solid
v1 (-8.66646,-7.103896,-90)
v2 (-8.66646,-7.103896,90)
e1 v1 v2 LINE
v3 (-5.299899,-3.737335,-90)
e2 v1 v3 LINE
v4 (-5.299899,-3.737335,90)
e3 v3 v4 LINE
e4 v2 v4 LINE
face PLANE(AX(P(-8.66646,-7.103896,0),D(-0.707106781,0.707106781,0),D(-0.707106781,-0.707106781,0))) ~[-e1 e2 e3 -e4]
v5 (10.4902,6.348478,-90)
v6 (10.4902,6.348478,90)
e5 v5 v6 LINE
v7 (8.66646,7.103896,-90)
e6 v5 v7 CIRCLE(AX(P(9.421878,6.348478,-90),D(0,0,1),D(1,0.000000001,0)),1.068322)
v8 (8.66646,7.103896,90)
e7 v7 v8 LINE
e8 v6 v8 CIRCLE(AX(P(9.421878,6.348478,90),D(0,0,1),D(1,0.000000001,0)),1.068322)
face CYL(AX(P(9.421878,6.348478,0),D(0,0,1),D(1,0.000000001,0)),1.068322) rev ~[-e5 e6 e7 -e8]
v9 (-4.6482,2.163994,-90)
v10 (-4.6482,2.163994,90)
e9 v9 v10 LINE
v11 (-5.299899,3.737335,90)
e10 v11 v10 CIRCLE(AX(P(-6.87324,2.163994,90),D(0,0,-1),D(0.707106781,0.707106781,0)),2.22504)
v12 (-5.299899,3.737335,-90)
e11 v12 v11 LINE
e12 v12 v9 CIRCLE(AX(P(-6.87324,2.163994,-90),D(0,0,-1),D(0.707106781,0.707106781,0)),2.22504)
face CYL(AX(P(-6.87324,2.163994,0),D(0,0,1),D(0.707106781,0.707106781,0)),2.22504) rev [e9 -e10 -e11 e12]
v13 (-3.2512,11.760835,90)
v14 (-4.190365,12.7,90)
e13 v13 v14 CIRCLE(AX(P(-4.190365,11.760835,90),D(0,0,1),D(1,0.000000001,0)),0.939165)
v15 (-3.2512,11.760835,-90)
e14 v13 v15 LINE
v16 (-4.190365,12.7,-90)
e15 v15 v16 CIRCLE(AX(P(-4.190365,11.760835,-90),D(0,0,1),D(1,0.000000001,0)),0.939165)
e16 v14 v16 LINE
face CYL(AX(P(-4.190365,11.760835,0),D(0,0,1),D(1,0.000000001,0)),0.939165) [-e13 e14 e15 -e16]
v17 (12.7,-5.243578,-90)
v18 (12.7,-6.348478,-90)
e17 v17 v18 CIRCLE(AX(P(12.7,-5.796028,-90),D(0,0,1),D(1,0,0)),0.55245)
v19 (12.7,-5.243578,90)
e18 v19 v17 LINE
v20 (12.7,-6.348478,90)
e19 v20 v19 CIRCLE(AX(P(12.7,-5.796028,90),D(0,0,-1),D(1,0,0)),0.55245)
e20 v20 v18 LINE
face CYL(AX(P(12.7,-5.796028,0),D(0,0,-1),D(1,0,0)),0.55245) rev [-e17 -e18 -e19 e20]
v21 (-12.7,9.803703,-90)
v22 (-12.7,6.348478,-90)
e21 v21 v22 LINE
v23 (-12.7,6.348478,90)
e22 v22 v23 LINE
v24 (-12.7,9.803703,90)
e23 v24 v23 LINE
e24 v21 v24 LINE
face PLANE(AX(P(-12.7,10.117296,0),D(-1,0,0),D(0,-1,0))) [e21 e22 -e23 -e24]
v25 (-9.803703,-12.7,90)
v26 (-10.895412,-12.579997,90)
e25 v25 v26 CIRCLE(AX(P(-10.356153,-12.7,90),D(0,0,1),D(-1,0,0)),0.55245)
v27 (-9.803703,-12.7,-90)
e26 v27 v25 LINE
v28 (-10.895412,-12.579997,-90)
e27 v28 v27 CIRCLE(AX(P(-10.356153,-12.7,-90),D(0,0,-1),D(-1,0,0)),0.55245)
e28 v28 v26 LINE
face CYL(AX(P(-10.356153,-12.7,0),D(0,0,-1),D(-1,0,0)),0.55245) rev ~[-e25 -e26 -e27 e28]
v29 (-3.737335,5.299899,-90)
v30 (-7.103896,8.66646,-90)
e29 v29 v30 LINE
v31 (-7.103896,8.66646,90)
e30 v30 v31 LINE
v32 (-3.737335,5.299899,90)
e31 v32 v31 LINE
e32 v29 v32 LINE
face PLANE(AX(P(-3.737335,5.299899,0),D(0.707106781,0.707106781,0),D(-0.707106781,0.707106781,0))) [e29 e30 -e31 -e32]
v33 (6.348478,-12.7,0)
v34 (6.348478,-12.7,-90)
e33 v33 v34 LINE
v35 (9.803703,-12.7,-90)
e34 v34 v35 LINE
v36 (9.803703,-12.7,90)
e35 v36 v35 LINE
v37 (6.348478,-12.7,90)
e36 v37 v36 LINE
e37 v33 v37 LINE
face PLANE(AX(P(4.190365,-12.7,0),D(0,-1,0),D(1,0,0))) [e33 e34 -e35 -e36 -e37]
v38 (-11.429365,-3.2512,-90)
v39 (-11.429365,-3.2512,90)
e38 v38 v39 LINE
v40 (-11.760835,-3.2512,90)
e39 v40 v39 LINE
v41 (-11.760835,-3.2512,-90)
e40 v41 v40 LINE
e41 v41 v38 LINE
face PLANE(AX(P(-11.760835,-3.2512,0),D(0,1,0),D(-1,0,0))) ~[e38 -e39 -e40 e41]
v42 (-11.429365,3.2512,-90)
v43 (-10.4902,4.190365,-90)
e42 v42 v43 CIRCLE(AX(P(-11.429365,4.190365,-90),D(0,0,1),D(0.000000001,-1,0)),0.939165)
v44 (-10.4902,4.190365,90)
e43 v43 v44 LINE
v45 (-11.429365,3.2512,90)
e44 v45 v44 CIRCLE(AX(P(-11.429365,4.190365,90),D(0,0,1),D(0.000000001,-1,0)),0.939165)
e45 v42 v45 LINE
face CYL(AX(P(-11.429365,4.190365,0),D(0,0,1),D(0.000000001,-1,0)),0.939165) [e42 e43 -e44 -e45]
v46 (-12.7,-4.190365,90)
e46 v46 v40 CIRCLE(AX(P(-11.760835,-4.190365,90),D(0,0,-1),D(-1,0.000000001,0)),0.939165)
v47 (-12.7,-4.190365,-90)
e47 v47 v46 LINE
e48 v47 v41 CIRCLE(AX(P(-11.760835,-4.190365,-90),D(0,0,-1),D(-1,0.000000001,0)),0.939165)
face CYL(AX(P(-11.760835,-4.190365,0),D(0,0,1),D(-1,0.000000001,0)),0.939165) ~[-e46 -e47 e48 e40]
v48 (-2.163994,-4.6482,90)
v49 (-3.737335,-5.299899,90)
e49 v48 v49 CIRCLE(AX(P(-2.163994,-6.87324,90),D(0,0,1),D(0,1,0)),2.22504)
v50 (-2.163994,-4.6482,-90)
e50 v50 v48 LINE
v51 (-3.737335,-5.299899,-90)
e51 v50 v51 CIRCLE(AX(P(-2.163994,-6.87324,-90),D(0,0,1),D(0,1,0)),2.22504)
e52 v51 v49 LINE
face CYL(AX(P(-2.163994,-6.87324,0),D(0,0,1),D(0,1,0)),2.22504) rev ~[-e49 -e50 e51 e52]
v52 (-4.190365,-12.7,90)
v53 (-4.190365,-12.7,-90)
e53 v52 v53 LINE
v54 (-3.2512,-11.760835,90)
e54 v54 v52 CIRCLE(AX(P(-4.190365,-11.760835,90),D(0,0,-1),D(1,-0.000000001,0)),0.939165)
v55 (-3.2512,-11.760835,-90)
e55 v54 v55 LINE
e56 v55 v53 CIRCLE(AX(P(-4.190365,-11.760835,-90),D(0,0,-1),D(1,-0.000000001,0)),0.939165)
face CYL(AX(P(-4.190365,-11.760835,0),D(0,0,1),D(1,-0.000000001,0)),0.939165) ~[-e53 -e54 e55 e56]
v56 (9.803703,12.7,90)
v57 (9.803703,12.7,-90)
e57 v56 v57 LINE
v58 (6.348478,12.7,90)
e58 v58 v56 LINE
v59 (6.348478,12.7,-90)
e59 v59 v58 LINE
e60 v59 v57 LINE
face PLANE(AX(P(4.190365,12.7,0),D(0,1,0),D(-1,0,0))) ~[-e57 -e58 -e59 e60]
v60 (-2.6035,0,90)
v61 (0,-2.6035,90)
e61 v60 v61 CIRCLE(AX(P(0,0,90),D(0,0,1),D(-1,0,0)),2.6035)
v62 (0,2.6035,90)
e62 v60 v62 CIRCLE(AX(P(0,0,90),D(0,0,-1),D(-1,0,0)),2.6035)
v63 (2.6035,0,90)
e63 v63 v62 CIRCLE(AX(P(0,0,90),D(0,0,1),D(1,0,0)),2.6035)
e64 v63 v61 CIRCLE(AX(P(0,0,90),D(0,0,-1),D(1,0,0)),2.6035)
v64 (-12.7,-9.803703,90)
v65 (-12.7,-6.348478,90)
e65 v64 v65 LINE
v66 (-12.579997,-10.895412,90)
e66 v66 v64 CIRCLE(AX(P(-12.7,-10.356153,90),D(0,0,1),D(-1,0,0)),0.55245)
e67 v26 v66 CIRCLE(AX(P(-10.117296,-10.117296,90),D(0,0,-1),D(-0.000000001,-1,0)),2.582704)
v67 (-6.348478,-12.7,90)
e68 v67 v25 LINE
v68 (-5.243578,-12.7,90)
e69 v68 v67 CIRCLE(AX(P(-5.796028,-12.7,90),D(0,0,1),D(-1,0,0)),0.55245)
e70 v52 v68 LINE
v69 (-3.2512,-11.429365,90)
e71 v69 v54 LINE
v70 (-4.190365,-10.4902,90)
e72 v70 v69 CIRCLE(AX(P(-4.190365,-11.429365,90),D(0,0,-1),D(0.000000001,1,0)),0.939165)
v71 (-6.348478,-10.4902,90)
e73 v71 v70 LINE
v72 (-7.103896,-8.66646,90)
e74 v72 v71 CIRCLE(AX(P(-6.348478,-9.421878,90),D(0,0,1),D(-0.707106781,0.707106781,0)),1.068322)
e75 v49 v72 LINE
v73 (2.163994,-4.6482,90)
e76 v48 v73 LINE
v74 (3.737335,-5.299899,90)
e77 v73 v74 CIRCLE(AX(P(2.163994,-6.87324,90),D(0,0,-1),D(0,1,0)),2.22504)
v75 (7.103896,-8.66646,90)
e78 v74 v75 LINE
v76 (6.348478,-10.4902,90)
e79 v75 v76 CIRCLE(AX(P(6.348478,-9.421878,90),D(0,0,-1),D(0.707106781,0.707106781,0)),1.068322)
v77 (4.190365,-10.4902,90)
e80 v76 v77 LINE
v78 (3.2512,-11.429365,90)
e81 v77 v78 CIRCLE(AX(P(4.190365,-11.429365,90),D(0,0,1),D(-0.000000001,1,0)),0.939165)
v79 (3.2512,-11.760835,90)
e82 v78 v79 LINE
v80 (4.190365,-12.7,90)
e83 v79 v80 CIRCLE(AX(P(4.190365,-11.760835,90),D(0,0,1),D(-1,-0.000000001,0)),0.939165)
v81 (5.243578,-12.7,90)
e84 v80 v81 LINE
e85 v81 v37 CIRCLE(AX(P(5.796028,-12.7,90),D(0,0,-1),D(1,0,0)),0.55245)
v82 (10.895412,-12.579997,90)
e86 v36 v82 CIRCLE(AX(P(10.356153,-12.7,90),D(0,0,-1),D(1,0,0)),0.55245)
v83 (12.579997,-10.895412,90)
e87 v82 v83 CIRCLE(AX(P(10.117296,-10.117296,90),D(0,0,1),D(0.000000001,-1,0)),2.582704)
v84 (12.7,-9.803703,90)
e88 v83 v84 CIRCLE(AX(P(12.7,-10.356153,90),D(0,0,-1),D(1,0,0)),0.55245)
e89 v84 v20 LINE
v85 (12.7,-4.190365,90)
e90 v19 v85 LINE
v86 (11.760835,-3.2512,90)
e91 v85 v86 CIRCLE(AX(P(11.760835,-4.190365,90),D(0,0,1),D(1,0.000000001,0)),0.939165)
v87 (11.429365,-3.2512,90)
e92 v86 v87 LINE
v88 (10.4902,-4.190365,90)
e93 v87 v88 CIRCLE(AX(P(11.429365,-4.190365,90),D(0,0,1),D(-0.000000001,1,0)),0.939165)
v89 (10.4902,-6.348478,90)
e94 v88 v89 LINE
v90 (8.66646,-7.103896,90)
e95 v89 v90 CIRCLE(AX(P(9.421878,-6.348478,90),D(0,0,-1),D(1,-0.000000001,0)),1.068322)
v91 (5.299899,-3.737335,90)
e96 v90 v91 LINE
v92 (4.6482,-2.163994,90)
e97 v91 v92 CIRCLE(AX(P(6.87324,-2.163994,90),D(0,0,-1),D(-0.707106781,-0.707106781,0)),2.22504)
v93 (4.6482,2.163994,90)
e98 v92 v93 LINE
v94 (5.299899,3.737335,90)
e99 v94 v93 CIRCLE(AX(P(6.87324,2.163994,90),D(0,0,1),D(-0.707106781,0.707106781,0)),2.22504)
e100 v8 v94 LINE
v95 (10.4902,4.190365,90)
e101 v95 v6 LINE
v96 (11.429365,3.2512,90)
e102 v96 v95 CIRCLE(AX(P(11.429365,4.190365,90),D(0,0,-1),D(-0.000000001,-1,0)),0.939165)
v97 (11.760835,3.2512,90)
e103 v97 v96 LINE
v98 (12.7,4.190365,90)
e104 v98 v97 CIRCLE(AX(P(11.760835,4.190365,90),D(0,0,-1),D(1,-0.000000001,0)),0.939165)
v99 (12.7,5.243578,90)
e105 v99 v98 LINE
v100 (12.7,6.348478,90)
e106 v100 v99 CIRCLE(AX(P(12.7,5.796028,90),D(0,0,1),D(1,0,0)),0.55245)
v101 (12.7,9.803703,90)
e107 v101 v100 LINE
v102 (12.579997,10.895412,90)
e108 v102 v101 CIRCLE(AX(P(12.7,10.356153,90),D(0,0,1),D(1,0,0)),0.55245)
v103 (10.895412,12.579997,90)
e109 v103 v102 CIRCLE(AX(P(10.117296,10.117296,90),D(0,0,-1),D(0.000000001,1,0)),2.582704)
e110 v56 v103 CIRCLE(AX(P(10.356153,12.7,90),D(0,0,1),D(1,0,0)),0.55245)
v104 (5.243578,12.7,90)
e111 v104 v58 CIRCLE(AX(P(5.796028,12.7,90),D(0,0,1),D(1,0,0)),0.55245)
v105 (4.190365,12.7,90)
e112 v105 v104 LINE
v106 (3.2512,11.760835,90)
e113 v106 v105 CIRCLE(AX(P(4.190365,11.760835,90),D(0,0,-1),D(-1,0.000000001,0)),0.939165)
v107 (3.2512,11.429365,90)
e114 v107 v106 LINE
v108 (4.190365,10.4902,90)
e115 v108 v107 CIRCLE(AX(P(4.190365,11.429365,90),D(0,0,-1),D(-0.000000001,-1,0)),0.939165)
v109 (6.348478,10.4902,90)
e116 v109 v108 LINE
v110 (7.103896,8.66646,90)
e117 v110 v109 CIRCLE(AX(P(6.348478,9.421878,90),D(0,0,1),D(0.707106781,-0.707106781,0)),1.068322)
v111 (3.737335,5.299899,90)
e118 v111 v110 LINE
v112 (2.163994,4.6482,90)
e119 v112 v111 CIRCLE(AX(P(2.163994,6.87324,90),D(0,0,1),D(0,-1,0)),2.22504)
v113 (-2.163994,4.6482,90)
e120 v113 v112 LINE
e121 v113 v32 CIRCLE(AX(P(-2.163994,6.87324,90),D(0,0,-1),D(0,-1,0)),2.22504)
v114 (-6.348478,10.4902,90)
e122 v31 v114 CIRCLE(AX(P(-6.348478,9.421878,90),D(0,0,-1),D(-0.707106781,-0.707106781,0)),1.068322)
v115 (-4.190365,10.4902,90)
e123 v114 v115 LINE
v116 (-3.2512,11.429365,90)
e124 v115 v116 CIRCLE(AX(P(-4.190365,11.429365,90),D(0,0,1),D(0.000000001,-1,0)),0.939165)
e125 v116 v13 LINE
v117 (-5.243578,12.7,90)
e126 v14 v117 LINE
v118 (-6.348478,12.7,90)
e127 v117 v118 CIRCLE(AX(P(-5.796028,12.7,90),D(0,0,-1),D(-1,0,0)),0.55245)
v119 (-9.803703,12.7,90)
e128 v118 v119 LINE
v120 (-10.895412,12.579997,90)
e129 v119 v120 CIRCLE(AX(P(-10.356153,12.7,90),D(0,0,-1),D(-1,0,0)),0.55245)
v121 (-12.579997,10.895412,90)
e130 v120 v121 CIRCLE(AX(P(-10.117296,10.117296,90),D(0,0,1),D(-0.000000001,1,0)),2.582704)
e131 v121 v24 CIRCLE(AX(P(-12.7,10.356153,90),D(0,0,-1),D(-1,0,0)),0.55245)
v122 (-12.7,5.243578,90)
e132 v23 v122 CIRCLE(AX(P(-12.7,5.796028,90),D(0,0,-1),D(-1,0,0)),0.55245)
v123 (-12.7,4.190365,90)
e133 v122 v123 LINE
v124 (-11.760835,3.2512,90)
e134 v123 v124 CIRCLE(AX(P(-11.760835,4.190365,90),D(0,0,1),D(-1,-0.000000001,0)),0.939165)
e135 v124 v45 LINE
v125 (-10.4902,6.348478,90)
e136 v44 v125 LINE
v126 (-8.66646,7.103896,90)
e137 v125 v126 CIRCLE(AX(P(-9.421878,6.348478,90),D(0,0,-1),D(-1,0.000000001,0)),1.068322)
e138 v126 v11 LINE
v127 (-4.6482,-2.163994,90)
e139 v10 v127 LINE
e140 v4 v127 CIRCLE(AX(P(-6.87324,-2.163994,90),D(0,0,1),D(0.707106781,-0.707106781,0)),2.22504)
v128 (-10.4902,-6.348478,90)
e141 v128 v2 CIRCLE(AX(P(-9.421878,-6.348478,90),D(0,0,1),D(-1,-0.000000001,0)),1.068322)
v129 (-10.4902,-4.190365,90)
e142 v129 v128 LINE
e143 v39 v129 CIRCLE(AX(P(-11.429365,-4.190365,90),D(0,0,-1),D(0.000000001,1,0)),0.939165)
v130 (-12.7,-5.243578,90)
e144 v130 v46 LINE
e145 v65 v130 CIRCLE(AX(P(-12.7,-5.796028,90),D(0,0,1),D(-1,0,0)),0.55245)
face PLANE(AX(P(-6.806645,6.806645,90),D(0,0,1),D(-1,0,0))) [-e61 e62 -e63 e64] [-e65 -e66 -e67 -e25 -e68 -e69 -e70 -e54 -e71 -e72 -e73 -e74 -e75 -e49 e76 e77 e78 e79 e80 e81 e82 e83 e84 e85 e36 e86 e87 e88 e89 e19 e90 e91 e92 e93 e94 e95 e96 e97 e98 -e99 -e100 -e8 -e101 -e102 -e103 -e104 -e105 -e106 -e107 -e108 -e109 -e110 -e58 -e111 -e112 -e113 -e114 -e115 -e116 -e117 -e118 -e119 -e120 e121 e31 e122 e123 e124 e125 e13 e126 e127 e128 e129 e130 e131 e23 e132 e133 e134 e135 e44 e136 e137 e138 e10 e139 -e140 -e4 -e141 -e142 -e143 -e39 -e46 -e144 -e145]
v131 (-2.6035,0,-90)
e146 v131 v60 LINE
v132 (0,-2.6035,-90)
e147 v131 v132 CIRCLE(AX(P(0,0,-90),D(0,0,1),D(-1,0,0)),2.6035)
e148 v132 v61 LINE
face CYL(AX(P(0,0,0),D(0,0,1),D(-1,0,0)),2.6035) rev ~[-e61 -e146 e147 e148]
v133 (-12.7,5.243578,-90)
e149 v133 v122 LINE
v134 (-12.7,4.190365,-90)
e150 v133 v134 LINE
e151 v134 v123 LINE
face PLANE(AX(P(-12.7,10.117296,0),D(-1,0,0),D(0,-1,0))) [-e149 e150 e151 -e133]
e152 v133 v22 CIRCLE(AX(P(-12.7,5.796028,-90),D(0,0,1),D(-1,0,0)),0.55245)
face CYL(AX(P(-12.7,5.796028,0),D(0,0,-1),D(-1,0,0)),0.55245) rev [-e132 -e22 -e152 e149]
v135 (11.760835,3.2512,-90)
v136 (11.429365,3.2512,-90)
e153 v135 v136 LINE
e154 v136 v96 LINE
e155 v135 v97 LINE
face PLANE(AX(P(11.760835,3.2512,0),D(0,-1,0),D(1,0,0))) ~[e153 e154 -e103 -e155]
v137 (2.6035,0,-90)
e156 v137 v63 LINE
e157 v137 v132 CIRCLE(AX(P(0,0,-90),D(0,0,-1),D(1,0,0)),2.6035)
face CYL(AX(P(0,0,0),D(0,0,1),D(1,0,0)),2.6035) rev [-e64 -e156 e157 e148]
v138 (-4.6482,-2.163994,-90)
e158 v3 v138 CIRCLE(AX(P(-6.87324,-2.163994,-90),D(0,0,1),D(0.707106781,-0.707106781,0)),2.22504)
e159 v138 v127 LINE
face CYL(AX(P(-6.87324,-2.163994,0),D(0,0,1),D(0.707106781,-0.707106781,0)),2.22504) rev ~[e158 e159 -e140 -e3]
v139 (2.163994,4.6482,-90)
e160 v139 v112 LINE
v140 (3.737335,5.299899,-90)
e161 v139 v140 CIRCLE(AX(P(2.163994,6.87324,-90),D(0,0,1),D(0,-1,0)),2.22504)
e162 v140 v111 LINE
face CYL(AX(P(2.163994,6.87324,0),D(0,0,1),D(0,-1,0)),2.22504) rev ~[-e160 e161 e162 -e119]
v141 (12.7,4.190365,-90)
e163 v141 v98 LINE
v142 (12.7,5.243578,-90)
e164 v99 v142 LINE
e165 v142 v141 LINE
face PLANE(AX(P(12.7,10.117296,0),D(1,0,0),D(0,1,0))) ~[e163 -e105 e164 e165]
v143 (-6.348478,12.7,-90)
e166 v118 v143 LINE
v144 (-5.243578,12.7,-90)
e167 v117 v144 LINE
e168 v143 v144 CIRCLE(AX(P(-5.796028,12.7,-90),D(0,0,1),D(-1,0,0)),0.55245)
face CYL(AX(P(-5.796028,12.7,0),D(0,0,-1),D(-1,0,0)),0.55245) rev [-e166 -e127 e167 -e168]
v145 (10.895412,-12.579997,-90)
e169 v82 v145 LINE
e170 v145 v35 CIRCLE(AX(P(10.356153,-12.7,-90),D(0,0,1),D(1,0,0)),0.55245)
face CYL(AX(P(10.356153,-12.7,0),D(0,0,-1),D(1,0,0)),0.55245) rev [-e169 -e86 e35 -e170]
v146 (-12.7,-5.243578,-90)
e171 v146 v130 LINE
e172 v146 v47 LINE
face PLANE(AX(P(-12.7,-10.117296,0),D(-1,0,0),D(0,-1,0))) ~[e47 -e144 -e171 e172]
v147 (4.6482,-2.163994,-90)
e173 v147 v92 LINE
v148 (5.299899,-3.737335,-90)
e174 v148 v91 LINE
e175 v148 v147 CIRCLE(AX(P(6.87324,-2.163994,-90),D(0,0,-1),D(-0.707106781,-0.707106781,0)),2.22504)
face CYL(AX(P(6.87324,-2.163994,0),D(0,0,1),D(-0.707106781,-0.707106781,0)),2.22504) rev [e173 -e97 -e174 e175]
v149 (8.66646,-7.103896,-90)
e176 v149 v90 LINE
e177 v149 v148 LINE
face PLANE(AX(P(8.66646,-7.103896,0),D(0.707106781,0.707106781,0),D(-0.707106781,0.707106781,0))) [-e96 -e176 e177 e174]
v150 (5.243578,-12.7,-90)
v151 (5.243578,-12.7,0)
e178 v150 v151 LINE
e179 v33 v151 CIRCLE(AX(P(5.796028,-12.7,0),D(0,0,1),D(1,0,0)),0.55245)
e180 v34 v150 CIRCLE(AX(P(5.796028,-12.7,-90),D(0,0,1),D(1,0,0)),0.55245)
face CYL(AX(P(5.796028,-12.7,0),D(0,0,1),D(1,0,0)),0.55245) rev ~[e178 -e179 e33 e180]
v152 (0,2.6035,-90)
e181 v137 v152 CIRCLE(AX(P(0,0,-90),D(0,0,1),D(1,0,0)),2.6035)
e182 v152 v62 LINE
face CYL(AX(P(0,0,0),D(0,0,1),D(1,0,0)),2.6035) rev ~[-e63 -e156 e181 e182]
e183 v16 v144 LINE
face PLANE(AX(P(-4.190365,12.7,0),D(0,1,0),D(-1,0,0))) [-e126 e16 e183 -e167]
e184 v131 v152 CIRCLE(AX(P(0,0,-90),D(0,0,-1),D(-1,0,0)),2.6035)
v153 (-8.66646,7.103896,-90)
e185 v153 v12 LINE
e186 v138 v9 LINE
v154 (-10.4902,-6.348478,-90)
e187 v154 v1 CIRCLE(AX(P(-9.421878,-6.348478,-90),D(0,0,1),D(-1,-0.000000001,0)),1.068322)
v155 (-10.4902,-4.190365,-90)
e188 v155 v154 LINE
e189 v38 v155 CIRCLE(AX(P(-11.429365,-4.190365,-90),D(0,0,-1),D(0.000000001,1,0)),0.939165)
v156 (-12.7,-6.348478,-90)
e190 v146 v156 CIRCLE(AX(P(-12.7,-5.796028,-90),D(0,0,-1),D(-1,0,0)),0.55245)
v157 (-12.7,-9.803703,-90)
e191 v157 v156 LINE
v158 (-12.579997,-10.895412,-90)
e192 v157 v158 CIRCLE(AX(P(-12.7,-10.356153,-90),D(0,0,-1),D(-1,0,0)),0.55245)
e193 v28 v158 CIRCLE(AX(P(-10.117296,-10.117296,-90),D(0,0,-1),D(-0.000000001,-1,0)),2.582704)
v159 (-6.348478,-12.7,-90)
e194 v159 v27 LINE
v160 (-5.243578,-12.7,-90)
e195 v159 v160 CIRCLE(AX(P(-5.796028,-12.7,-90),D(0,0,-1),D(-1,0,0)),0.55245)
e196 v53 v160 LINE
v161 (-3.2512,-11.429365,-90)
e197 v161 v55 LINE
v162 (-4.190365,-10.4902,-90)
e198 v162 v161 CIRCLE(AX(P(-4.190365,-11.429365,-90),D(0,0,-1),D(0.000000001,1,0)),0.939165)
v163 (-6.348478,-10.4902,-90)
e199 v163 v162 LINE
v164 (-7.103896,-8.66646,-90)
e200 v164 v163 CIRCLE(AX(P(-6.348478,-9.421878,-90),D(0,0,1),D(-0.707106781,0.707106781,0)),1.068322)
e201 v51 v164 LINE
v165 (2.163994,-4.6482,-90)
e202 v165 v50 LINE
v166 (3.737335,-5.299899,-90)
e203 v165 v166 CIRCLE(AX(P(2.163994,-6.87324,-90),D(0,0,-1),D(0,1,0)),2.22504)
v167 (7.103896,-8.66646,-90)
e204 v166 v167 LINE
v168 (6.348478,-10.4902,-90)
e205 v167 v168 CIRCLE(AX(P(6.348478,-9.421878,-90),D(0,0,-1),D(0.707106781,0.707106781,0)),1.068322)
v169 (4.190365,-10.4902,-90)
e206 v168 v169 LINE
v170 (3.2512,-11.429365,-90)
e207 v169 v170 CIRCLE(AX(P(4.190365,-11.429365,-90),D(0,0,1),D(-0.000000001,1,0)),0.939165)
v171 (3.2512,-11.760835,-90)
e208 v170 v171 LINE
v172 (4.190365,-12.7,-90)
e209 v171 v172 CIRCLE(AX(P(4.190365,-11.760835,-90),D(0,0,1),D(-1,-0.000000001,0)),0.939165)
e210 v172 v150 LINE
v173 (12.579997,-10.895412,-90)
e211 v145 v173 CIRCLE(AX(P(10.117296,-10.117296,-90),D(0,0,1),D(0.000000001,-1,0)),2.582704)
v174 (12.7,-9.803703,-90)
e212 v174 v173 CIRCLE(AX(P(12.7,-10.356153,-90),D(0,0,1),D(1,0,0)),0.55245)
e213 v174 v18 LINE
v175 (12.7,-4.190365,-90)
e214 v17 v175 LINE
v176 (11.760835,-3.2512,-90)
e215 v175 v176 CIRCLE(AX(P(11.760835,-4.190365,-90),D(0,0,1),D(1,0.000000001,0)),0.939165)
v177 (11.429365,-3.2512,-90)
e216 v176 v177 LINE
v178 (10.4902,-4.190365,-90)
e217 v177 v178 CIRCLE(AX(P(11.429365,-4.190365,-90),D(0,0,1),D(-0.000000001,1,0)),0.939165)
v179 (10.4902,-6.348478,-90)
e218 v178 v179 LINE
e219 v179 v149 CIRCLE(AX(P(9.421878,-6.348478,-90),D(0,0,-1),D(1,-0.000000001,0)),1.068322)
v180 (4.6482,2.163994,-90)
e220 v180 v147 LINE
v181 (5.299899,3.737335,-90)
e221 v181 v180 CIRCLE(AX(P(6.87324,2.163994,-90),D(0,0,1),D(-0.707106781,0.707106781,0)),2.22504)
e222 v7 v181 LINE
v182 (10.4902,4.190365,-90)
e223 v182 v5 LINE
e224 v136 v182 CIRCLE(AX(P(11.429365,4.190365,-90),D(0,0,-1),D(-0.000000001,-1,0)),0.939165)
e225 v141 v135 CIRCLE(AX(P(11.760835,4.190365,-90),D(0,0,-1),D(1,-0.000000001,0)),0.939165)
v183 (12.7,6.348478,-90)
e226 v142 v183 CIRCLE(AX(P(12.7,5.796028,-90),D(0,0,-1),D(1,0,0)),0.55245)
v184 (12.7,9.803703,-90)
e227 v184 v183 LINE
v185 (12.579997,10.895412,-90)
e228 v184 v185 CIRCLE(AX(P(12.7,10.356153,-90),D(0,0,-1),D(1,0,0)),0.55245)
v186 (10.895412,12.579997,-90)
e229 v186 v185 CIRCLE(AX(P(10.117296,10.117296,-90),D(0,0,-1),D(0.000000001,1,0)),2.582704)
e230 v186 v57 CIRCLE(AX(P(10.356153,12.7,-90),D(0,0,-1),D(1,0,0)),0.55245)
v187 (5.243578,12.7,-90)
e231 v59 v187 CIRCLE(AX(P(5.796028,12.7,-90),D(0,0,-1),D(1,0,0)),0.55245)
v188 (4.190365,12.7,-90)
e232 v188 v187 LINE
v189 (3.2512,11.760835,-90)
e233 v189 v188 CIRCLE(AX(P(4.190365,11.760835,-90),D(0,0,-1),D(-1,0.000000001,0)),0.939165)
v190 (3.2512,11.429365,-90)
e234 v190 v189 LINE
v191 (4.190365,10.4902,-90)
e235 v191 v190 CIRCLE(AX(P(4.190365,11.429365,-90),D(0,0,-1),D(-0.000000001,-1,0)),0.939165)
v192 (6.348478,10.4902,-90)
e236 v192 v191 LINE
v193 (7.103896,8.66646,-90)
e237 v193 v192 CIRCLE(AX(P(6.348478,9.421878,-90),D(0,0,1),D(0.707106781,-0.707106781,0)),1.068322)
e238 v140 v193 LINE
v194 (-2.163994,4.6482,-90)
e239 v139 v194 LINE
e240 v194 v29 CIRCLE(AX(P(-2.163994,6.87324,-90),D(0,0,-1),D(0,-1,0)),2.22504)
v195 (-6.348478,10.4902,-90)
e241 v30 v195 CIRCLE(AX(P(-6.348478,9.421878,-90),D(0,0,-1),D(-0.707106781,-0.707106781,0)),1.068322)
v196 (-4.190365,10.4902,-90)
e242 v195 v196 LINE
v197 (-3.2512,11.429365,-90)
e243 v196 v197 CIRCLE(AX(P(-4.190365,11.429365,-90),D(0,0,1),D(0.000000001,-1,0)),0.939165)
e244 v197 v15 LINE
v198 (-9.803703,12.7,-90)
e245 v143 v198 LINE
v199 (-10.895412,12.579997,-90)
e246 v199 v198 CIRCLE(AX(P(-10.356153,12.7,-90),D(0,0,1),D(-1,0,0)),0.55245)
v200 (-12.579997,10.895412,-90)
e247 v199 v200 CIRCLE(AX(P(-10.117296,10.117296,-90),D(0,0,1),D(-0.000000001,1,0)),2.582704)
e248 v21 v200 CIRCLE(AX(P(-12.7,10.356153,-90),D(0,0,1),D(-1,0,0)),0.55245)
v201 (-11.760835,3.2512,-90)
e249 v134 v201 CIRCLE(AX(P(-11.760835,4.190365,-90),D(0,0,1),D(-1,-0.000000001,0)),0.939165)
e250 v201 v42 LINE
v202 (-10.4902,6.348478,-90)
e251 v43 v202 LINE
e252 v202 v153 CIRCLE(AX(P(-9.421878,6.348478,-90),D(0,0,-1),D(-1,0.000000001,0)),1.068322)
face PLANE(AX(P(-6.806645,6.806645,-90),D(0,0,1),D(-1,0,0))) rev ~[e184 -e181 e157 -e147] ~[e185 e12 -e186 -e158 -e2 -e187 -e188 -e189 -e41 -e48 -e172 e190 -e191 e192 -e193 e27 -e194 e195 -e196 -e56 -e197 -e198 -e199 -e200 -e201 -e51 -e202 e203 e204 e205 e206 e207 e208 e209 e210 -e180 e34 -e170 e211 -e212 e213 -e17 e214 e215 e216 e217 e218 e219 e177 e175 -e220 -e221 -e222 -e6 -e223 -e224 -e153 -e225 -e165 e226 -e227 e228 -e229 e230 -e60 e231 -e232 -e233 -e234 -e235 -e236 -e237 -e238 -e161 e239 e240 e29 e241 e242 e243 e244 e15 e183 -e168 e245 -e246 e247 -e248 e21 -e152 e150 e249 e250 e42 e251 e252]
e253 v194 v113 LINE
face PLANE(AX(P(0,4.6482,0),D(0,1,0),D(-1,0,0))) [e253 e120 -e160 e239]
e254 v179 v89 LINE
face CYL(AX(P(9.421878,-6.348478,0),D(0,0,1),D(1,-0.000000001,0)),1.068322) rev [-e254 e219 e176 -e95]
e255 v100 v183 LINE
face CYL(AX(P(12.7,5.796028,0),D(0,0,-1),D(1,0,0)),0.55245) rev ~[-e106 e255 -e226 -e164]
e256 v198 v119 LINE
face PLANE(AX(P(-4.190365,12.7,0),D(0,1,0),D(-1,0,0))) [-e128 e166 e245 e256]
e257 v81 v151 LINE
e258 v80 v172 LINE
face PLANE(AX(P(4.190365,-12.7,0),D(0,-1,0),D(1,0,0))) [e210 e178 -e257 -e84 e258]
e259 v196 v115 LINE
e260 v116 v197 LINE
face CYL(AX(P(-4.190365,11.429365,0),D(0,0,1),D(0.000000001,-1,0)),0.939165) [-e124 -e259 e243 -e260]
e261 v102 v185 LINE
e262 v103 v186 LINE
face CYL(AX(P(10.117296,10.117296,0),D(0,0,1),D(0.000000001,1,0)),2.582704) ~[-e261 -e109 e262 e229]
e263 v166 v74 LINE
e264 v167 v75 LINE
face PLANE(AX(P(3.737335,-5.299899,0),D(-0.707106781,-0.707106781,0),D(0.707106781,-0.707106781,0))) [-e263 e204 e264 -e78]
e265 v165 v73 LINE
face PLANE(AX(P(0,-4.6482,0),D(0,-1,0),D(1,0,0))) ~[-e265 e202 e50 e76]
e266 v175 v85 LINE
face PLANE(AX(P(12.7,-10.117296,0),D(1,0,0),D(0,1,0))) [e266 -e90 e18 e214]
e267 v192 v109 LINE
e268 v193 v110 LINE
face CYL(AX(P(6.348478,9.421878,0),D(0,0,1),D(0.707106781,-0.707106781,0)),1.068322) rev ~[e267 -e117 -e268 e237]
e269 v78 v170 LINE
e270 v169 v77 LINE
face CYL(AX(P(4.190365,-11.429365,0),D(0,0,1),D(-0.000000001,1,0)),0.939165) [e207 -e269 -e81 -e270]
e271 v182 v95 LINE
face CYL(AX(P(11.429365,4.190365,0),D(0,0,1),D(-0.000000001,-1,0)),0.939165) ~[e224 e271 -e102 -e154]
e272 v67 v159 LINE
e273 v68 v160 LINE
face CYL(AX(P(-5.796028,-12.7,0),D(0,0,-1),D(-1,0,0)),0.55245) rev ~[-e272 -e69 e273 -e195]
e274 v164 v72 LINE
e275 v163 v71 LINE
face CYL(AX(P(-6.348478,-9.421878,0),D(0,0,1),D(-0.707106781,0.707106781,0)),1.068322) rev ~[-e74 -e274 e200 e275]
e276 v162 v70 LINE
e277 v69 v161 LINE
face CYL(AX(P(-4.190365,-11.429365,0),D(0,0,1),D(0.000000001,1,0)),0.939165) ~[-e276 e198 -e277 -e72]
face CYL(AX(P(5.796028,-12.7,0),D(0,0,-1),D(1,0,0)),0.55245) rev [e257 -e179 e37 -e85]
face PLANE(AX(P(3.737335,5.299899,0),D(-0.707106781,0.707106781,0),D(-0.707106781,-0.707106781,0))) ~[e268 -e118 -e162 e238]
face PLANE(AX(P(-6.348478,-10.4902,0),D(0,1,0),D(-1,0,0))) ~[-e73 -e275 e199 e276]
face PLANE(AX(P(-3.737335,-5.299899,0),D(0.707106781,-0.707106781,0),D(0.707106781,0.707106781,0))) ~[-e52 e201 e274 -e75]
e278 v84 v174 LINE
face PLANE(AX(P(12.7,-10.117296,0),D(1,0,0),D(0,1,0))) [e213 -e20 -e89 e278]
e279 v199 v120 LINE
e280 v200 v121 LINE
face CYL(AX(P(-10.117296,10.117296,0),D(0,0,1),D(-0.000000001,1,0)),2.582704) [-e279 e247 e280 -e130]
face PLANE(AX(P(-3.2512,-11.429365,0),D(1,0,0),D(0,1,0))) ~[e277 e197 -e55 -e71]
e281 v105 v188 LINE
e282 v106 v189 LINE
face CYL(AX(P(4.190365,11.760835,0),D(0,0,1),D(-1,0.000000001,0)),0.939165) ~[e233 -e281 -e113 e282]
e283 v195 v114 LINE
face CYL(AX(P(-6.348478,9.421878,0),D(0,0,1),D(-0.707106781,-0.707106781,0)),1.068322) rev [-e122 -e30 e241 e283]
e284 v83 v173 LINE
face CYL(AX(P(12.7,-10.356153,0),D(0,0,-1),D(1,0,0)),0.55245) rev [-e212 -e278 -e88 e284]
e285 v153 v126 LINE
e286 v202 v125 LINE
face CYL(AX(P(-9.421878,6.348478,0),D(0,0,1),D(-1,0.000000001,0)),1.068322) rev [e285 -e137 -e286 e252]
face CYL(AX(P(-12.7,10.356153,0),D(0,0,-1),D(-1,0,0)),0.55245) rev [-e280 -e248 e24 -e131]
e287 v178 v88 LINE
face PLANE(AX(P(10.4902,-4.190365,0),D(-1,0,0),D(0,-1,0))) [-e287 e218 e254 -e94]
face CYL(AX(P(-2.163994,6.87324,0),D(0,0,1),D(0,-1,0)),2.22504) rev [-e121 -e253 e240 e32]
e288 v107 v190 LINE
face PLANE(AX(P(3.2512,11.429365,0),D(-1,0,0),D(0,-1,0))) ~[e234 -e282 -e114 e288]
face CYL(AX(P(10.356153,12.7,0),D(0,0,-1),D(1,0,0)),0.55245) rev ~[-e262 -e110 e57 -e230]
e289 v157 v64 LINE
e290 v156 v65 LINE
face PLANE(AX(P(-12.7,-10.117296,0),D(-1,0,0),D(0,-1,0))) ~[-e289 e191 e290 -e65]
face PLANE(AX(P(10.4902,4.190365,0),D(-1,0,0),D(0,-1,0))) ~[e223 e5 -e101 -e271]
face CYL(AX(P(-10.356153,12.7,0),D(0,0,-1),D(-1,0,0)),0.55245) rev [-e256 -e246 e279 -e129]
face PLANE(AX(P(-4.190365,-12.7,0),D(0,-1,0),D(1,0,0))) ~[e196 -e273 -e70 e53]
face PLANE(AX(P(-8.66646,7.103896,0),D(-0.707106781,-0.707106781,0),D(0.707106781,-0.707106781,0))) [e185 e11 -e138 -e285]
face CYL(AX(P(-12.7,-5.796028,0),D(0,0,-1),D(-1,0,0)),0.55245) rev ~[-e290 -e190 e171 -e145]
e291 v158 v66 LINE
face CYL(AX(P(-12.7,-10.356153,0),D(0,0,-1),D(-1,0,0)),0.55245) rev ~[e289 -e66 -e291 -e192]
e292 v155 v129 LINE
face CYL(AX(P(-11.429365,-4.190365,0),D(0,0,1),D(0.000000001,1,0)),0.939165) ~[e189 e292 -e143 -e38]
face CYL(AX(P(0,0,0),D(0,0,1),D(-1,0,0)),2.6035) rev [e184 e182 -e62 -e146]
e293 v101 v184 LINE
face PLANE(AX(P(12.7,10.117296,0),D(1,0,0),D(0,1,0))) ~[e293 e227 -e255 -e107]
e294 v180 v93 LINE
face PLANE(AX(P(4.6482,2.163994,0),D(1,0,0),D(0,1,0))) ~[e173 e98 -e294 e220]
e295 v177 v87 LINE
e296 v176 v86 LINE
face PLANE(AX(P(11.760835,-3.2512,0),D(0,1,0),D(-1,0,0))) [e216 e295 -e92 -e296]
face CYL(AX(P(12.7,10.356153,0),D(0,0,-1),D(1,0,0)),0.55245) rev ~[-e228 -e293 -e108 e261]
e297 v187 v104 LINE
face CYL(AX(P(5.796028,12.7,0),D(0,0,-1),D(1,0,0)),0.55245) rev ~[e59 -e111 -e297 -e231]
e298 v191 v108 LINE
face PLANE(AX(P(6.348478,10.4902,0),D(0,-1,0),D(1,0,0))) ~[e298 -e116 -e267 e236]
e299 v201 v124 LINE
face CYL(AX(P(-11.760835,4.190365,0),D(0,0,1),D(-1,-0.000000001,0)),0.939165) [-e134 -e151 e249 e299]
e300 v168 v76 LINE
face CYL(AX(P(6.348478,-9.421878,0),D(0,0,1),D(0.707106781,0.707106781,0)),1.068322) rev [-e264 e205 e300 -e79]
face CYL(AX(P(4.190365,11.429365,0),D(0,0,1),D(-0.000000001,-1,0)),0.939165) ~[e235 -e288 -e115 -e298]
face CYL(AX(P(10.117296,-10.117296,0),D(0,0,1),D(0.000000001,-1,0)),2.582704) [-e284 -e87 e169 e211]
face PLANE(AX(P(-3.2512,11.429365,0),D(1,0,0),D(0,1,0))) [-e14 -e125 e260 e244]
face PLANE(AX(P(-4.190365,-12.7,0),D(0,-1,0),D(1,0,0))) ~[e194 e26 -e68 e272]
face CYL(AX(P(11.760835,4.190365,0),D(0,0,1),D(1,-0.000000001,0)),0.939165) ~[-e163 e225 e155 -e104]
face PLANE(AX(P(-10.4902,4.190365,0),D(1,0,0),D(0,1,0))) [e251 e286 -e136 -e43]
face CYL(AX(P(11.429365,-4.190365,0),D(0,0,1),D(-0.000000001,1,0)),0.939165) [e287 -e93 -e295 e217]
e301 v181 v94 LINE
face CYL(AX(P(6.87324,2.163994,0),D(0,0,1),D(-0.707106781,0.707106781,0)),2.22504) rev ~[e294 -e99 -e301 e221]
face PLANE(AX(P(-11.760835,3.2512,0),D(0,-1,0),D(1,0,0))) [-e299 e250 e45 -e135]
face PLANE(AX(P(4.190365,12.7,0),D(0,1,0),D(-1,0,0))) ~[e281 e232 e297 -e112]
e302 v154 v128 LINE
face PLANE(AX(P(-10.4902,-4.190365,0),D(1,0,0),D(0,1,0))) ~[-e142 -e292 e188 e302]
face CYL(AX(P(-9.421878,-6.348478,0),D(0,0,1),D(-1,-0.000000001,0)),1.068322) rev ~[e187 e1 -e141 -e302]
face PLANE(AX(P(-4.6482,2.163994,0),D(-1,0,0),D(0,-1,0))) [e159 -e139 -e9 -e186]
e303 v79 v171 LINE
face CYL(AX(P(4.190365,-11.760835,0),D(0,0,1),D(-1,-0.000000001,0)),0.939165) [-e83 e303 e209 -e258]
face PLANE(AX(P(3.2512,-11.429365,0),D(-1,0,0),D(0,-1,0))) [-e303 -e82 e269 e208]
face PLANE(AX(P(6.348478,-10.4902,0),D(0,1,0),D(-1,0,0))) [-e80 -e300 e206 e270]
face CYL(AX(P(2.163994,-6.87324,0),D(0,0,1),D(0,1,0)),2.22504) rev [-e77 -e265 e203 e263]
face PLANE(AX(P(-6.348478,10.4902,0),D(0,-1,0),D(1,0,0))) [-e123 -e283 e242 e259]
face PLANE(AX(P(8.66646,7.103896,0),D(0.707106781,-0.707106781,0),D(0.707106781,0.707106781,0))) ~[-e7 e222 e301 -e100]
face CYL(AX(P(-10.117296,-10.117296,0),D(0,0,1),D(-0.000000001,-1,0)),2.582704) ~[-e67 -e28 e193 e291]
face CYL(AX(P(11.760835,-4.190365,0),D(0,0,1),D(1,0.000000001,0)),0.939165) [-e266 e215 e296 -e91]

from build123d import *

# Parameters (mm, degrees)
BOSS_EXTRUDE1_DEPTH     = 90
SKETCH5_R               = 0.55245
CUT_EXTRUDE1_DEPTH      = 91
CUT_EXTRUDE1_DEPTH_BACK = 91


with BuildPart() as part:
    # Sketch4 → Boss-Extrude1 (new body, symmetric)
    with BuildSketch(Plane.XY):
        with BuildLine():
            Line((4.190365, -12.7), (10.11729625, -12.7))
            ThreePointArc((10.11729625, -12.7), (11.943543585, -11.943543585), (12.7, -10.11729625))
            Line((12.7, -10.11729625), (12.7, -4.190365))
            ThreePointArc((12.7, -4.190365), (12.42492494, -3.52627506), (11.760835, -3.2512))
            Line((11.760835, -3.2512), (11.429365, -3.2512))
            ThreePointArc((11.429365, -3.2512), (10.76527506, -3.52627506), (10.4902, -4.190365))
            Line((10.4902, -4.190365), (10.4902, -6.348478019))
            ThreePointArc((10.4902, -6.348478019), (9.830707141, -7.335478831), (8.666460301, -7.103895736))
            Line((8.666460301, -7.103895736), (5.299899128, -3.737334563))
            ThreePointArc((5.299899128, -3.737334563), (4.817571085, -3.015479634), (4.6482, -2.16399369))
            Line((4.6482, -2.16399369), (4.6482, 0))
            Line((4.6482, 0), (2.6035, 0))
            ThreePointArc((2.6035, 0), (1.840952505, -1.840952505), (0, -2.6035))
            Line((0, -2.6035), (0, -4.6482))
            Line((0, -4.6482), (2.16399369, -4.6482))
            ThreePointArc((2.16399369, -4.6482), (3.015479634, -4.817571085), (3.737334563, -5.299899128))
            Line((3.737334563, -5.299899128), (7.103895736, -8.666460301))
            ThreePointArc((7.103895736, -8.666460301), (7.335478831, -9.830707141), (6.348478019, -10.4902))
            Line((6.348478019, -10.4902), (4.190365, -10.4902))
            ThreePointArc((4.190365, -10.4902), (3.52627506, -10.76527506), (3.2512, -11.429365))
            Line((3.2512, -11.429365), (3.2512, -11.760835))
            ThreePointArc((3.2512, -11.760835), (3.52627506, -12.42492494), (4.190365, -12.7))
        make_face()
    extrude(amount=BOSS_EXTRUDE1_DEPTH, both=True)

    # Sketch5 → Cut-Extrude1 (cut, two sides)
    with BuildSketch(Plane.XY) as cut_extrude1_sk:
        with Locations((10.356153152, -12.7)):
            Circle(SKETCH5_R)
        with Locations((5.796028019, -12.7)):
            Circle(SKETCH5_R)
        with Locations((12.7, -10.356153152)):
            Circle(SKETCH5_R)
        with Locations((12.7, -5.796028019)):
            Circle(SKETCH5_R)
    extrude(amount=CUT_EXTRUDE1_DEPTH, mode=Mode.SUBTRACT)
    extrude(cut_extrude1_sk.sketch, amount=-CUT_EXTRUDE1_DEPTH_BACK, mode=Mode.SUBTRACT)

    # Mirror1: part across plane


with BuildPart() as part_1:
    add(part.part)
    add(part.part.mirror(Plane(origin=(0, 0, 0), x_dir=(0, 0, 1), z_dir=(1, 0, 0))))

    # Mirror2: part across plane


with BuildPart() as part_2:
    add(part_1.part)
    add(part_1.part.mirror(Plane.ZX))


solid = part_2.part
